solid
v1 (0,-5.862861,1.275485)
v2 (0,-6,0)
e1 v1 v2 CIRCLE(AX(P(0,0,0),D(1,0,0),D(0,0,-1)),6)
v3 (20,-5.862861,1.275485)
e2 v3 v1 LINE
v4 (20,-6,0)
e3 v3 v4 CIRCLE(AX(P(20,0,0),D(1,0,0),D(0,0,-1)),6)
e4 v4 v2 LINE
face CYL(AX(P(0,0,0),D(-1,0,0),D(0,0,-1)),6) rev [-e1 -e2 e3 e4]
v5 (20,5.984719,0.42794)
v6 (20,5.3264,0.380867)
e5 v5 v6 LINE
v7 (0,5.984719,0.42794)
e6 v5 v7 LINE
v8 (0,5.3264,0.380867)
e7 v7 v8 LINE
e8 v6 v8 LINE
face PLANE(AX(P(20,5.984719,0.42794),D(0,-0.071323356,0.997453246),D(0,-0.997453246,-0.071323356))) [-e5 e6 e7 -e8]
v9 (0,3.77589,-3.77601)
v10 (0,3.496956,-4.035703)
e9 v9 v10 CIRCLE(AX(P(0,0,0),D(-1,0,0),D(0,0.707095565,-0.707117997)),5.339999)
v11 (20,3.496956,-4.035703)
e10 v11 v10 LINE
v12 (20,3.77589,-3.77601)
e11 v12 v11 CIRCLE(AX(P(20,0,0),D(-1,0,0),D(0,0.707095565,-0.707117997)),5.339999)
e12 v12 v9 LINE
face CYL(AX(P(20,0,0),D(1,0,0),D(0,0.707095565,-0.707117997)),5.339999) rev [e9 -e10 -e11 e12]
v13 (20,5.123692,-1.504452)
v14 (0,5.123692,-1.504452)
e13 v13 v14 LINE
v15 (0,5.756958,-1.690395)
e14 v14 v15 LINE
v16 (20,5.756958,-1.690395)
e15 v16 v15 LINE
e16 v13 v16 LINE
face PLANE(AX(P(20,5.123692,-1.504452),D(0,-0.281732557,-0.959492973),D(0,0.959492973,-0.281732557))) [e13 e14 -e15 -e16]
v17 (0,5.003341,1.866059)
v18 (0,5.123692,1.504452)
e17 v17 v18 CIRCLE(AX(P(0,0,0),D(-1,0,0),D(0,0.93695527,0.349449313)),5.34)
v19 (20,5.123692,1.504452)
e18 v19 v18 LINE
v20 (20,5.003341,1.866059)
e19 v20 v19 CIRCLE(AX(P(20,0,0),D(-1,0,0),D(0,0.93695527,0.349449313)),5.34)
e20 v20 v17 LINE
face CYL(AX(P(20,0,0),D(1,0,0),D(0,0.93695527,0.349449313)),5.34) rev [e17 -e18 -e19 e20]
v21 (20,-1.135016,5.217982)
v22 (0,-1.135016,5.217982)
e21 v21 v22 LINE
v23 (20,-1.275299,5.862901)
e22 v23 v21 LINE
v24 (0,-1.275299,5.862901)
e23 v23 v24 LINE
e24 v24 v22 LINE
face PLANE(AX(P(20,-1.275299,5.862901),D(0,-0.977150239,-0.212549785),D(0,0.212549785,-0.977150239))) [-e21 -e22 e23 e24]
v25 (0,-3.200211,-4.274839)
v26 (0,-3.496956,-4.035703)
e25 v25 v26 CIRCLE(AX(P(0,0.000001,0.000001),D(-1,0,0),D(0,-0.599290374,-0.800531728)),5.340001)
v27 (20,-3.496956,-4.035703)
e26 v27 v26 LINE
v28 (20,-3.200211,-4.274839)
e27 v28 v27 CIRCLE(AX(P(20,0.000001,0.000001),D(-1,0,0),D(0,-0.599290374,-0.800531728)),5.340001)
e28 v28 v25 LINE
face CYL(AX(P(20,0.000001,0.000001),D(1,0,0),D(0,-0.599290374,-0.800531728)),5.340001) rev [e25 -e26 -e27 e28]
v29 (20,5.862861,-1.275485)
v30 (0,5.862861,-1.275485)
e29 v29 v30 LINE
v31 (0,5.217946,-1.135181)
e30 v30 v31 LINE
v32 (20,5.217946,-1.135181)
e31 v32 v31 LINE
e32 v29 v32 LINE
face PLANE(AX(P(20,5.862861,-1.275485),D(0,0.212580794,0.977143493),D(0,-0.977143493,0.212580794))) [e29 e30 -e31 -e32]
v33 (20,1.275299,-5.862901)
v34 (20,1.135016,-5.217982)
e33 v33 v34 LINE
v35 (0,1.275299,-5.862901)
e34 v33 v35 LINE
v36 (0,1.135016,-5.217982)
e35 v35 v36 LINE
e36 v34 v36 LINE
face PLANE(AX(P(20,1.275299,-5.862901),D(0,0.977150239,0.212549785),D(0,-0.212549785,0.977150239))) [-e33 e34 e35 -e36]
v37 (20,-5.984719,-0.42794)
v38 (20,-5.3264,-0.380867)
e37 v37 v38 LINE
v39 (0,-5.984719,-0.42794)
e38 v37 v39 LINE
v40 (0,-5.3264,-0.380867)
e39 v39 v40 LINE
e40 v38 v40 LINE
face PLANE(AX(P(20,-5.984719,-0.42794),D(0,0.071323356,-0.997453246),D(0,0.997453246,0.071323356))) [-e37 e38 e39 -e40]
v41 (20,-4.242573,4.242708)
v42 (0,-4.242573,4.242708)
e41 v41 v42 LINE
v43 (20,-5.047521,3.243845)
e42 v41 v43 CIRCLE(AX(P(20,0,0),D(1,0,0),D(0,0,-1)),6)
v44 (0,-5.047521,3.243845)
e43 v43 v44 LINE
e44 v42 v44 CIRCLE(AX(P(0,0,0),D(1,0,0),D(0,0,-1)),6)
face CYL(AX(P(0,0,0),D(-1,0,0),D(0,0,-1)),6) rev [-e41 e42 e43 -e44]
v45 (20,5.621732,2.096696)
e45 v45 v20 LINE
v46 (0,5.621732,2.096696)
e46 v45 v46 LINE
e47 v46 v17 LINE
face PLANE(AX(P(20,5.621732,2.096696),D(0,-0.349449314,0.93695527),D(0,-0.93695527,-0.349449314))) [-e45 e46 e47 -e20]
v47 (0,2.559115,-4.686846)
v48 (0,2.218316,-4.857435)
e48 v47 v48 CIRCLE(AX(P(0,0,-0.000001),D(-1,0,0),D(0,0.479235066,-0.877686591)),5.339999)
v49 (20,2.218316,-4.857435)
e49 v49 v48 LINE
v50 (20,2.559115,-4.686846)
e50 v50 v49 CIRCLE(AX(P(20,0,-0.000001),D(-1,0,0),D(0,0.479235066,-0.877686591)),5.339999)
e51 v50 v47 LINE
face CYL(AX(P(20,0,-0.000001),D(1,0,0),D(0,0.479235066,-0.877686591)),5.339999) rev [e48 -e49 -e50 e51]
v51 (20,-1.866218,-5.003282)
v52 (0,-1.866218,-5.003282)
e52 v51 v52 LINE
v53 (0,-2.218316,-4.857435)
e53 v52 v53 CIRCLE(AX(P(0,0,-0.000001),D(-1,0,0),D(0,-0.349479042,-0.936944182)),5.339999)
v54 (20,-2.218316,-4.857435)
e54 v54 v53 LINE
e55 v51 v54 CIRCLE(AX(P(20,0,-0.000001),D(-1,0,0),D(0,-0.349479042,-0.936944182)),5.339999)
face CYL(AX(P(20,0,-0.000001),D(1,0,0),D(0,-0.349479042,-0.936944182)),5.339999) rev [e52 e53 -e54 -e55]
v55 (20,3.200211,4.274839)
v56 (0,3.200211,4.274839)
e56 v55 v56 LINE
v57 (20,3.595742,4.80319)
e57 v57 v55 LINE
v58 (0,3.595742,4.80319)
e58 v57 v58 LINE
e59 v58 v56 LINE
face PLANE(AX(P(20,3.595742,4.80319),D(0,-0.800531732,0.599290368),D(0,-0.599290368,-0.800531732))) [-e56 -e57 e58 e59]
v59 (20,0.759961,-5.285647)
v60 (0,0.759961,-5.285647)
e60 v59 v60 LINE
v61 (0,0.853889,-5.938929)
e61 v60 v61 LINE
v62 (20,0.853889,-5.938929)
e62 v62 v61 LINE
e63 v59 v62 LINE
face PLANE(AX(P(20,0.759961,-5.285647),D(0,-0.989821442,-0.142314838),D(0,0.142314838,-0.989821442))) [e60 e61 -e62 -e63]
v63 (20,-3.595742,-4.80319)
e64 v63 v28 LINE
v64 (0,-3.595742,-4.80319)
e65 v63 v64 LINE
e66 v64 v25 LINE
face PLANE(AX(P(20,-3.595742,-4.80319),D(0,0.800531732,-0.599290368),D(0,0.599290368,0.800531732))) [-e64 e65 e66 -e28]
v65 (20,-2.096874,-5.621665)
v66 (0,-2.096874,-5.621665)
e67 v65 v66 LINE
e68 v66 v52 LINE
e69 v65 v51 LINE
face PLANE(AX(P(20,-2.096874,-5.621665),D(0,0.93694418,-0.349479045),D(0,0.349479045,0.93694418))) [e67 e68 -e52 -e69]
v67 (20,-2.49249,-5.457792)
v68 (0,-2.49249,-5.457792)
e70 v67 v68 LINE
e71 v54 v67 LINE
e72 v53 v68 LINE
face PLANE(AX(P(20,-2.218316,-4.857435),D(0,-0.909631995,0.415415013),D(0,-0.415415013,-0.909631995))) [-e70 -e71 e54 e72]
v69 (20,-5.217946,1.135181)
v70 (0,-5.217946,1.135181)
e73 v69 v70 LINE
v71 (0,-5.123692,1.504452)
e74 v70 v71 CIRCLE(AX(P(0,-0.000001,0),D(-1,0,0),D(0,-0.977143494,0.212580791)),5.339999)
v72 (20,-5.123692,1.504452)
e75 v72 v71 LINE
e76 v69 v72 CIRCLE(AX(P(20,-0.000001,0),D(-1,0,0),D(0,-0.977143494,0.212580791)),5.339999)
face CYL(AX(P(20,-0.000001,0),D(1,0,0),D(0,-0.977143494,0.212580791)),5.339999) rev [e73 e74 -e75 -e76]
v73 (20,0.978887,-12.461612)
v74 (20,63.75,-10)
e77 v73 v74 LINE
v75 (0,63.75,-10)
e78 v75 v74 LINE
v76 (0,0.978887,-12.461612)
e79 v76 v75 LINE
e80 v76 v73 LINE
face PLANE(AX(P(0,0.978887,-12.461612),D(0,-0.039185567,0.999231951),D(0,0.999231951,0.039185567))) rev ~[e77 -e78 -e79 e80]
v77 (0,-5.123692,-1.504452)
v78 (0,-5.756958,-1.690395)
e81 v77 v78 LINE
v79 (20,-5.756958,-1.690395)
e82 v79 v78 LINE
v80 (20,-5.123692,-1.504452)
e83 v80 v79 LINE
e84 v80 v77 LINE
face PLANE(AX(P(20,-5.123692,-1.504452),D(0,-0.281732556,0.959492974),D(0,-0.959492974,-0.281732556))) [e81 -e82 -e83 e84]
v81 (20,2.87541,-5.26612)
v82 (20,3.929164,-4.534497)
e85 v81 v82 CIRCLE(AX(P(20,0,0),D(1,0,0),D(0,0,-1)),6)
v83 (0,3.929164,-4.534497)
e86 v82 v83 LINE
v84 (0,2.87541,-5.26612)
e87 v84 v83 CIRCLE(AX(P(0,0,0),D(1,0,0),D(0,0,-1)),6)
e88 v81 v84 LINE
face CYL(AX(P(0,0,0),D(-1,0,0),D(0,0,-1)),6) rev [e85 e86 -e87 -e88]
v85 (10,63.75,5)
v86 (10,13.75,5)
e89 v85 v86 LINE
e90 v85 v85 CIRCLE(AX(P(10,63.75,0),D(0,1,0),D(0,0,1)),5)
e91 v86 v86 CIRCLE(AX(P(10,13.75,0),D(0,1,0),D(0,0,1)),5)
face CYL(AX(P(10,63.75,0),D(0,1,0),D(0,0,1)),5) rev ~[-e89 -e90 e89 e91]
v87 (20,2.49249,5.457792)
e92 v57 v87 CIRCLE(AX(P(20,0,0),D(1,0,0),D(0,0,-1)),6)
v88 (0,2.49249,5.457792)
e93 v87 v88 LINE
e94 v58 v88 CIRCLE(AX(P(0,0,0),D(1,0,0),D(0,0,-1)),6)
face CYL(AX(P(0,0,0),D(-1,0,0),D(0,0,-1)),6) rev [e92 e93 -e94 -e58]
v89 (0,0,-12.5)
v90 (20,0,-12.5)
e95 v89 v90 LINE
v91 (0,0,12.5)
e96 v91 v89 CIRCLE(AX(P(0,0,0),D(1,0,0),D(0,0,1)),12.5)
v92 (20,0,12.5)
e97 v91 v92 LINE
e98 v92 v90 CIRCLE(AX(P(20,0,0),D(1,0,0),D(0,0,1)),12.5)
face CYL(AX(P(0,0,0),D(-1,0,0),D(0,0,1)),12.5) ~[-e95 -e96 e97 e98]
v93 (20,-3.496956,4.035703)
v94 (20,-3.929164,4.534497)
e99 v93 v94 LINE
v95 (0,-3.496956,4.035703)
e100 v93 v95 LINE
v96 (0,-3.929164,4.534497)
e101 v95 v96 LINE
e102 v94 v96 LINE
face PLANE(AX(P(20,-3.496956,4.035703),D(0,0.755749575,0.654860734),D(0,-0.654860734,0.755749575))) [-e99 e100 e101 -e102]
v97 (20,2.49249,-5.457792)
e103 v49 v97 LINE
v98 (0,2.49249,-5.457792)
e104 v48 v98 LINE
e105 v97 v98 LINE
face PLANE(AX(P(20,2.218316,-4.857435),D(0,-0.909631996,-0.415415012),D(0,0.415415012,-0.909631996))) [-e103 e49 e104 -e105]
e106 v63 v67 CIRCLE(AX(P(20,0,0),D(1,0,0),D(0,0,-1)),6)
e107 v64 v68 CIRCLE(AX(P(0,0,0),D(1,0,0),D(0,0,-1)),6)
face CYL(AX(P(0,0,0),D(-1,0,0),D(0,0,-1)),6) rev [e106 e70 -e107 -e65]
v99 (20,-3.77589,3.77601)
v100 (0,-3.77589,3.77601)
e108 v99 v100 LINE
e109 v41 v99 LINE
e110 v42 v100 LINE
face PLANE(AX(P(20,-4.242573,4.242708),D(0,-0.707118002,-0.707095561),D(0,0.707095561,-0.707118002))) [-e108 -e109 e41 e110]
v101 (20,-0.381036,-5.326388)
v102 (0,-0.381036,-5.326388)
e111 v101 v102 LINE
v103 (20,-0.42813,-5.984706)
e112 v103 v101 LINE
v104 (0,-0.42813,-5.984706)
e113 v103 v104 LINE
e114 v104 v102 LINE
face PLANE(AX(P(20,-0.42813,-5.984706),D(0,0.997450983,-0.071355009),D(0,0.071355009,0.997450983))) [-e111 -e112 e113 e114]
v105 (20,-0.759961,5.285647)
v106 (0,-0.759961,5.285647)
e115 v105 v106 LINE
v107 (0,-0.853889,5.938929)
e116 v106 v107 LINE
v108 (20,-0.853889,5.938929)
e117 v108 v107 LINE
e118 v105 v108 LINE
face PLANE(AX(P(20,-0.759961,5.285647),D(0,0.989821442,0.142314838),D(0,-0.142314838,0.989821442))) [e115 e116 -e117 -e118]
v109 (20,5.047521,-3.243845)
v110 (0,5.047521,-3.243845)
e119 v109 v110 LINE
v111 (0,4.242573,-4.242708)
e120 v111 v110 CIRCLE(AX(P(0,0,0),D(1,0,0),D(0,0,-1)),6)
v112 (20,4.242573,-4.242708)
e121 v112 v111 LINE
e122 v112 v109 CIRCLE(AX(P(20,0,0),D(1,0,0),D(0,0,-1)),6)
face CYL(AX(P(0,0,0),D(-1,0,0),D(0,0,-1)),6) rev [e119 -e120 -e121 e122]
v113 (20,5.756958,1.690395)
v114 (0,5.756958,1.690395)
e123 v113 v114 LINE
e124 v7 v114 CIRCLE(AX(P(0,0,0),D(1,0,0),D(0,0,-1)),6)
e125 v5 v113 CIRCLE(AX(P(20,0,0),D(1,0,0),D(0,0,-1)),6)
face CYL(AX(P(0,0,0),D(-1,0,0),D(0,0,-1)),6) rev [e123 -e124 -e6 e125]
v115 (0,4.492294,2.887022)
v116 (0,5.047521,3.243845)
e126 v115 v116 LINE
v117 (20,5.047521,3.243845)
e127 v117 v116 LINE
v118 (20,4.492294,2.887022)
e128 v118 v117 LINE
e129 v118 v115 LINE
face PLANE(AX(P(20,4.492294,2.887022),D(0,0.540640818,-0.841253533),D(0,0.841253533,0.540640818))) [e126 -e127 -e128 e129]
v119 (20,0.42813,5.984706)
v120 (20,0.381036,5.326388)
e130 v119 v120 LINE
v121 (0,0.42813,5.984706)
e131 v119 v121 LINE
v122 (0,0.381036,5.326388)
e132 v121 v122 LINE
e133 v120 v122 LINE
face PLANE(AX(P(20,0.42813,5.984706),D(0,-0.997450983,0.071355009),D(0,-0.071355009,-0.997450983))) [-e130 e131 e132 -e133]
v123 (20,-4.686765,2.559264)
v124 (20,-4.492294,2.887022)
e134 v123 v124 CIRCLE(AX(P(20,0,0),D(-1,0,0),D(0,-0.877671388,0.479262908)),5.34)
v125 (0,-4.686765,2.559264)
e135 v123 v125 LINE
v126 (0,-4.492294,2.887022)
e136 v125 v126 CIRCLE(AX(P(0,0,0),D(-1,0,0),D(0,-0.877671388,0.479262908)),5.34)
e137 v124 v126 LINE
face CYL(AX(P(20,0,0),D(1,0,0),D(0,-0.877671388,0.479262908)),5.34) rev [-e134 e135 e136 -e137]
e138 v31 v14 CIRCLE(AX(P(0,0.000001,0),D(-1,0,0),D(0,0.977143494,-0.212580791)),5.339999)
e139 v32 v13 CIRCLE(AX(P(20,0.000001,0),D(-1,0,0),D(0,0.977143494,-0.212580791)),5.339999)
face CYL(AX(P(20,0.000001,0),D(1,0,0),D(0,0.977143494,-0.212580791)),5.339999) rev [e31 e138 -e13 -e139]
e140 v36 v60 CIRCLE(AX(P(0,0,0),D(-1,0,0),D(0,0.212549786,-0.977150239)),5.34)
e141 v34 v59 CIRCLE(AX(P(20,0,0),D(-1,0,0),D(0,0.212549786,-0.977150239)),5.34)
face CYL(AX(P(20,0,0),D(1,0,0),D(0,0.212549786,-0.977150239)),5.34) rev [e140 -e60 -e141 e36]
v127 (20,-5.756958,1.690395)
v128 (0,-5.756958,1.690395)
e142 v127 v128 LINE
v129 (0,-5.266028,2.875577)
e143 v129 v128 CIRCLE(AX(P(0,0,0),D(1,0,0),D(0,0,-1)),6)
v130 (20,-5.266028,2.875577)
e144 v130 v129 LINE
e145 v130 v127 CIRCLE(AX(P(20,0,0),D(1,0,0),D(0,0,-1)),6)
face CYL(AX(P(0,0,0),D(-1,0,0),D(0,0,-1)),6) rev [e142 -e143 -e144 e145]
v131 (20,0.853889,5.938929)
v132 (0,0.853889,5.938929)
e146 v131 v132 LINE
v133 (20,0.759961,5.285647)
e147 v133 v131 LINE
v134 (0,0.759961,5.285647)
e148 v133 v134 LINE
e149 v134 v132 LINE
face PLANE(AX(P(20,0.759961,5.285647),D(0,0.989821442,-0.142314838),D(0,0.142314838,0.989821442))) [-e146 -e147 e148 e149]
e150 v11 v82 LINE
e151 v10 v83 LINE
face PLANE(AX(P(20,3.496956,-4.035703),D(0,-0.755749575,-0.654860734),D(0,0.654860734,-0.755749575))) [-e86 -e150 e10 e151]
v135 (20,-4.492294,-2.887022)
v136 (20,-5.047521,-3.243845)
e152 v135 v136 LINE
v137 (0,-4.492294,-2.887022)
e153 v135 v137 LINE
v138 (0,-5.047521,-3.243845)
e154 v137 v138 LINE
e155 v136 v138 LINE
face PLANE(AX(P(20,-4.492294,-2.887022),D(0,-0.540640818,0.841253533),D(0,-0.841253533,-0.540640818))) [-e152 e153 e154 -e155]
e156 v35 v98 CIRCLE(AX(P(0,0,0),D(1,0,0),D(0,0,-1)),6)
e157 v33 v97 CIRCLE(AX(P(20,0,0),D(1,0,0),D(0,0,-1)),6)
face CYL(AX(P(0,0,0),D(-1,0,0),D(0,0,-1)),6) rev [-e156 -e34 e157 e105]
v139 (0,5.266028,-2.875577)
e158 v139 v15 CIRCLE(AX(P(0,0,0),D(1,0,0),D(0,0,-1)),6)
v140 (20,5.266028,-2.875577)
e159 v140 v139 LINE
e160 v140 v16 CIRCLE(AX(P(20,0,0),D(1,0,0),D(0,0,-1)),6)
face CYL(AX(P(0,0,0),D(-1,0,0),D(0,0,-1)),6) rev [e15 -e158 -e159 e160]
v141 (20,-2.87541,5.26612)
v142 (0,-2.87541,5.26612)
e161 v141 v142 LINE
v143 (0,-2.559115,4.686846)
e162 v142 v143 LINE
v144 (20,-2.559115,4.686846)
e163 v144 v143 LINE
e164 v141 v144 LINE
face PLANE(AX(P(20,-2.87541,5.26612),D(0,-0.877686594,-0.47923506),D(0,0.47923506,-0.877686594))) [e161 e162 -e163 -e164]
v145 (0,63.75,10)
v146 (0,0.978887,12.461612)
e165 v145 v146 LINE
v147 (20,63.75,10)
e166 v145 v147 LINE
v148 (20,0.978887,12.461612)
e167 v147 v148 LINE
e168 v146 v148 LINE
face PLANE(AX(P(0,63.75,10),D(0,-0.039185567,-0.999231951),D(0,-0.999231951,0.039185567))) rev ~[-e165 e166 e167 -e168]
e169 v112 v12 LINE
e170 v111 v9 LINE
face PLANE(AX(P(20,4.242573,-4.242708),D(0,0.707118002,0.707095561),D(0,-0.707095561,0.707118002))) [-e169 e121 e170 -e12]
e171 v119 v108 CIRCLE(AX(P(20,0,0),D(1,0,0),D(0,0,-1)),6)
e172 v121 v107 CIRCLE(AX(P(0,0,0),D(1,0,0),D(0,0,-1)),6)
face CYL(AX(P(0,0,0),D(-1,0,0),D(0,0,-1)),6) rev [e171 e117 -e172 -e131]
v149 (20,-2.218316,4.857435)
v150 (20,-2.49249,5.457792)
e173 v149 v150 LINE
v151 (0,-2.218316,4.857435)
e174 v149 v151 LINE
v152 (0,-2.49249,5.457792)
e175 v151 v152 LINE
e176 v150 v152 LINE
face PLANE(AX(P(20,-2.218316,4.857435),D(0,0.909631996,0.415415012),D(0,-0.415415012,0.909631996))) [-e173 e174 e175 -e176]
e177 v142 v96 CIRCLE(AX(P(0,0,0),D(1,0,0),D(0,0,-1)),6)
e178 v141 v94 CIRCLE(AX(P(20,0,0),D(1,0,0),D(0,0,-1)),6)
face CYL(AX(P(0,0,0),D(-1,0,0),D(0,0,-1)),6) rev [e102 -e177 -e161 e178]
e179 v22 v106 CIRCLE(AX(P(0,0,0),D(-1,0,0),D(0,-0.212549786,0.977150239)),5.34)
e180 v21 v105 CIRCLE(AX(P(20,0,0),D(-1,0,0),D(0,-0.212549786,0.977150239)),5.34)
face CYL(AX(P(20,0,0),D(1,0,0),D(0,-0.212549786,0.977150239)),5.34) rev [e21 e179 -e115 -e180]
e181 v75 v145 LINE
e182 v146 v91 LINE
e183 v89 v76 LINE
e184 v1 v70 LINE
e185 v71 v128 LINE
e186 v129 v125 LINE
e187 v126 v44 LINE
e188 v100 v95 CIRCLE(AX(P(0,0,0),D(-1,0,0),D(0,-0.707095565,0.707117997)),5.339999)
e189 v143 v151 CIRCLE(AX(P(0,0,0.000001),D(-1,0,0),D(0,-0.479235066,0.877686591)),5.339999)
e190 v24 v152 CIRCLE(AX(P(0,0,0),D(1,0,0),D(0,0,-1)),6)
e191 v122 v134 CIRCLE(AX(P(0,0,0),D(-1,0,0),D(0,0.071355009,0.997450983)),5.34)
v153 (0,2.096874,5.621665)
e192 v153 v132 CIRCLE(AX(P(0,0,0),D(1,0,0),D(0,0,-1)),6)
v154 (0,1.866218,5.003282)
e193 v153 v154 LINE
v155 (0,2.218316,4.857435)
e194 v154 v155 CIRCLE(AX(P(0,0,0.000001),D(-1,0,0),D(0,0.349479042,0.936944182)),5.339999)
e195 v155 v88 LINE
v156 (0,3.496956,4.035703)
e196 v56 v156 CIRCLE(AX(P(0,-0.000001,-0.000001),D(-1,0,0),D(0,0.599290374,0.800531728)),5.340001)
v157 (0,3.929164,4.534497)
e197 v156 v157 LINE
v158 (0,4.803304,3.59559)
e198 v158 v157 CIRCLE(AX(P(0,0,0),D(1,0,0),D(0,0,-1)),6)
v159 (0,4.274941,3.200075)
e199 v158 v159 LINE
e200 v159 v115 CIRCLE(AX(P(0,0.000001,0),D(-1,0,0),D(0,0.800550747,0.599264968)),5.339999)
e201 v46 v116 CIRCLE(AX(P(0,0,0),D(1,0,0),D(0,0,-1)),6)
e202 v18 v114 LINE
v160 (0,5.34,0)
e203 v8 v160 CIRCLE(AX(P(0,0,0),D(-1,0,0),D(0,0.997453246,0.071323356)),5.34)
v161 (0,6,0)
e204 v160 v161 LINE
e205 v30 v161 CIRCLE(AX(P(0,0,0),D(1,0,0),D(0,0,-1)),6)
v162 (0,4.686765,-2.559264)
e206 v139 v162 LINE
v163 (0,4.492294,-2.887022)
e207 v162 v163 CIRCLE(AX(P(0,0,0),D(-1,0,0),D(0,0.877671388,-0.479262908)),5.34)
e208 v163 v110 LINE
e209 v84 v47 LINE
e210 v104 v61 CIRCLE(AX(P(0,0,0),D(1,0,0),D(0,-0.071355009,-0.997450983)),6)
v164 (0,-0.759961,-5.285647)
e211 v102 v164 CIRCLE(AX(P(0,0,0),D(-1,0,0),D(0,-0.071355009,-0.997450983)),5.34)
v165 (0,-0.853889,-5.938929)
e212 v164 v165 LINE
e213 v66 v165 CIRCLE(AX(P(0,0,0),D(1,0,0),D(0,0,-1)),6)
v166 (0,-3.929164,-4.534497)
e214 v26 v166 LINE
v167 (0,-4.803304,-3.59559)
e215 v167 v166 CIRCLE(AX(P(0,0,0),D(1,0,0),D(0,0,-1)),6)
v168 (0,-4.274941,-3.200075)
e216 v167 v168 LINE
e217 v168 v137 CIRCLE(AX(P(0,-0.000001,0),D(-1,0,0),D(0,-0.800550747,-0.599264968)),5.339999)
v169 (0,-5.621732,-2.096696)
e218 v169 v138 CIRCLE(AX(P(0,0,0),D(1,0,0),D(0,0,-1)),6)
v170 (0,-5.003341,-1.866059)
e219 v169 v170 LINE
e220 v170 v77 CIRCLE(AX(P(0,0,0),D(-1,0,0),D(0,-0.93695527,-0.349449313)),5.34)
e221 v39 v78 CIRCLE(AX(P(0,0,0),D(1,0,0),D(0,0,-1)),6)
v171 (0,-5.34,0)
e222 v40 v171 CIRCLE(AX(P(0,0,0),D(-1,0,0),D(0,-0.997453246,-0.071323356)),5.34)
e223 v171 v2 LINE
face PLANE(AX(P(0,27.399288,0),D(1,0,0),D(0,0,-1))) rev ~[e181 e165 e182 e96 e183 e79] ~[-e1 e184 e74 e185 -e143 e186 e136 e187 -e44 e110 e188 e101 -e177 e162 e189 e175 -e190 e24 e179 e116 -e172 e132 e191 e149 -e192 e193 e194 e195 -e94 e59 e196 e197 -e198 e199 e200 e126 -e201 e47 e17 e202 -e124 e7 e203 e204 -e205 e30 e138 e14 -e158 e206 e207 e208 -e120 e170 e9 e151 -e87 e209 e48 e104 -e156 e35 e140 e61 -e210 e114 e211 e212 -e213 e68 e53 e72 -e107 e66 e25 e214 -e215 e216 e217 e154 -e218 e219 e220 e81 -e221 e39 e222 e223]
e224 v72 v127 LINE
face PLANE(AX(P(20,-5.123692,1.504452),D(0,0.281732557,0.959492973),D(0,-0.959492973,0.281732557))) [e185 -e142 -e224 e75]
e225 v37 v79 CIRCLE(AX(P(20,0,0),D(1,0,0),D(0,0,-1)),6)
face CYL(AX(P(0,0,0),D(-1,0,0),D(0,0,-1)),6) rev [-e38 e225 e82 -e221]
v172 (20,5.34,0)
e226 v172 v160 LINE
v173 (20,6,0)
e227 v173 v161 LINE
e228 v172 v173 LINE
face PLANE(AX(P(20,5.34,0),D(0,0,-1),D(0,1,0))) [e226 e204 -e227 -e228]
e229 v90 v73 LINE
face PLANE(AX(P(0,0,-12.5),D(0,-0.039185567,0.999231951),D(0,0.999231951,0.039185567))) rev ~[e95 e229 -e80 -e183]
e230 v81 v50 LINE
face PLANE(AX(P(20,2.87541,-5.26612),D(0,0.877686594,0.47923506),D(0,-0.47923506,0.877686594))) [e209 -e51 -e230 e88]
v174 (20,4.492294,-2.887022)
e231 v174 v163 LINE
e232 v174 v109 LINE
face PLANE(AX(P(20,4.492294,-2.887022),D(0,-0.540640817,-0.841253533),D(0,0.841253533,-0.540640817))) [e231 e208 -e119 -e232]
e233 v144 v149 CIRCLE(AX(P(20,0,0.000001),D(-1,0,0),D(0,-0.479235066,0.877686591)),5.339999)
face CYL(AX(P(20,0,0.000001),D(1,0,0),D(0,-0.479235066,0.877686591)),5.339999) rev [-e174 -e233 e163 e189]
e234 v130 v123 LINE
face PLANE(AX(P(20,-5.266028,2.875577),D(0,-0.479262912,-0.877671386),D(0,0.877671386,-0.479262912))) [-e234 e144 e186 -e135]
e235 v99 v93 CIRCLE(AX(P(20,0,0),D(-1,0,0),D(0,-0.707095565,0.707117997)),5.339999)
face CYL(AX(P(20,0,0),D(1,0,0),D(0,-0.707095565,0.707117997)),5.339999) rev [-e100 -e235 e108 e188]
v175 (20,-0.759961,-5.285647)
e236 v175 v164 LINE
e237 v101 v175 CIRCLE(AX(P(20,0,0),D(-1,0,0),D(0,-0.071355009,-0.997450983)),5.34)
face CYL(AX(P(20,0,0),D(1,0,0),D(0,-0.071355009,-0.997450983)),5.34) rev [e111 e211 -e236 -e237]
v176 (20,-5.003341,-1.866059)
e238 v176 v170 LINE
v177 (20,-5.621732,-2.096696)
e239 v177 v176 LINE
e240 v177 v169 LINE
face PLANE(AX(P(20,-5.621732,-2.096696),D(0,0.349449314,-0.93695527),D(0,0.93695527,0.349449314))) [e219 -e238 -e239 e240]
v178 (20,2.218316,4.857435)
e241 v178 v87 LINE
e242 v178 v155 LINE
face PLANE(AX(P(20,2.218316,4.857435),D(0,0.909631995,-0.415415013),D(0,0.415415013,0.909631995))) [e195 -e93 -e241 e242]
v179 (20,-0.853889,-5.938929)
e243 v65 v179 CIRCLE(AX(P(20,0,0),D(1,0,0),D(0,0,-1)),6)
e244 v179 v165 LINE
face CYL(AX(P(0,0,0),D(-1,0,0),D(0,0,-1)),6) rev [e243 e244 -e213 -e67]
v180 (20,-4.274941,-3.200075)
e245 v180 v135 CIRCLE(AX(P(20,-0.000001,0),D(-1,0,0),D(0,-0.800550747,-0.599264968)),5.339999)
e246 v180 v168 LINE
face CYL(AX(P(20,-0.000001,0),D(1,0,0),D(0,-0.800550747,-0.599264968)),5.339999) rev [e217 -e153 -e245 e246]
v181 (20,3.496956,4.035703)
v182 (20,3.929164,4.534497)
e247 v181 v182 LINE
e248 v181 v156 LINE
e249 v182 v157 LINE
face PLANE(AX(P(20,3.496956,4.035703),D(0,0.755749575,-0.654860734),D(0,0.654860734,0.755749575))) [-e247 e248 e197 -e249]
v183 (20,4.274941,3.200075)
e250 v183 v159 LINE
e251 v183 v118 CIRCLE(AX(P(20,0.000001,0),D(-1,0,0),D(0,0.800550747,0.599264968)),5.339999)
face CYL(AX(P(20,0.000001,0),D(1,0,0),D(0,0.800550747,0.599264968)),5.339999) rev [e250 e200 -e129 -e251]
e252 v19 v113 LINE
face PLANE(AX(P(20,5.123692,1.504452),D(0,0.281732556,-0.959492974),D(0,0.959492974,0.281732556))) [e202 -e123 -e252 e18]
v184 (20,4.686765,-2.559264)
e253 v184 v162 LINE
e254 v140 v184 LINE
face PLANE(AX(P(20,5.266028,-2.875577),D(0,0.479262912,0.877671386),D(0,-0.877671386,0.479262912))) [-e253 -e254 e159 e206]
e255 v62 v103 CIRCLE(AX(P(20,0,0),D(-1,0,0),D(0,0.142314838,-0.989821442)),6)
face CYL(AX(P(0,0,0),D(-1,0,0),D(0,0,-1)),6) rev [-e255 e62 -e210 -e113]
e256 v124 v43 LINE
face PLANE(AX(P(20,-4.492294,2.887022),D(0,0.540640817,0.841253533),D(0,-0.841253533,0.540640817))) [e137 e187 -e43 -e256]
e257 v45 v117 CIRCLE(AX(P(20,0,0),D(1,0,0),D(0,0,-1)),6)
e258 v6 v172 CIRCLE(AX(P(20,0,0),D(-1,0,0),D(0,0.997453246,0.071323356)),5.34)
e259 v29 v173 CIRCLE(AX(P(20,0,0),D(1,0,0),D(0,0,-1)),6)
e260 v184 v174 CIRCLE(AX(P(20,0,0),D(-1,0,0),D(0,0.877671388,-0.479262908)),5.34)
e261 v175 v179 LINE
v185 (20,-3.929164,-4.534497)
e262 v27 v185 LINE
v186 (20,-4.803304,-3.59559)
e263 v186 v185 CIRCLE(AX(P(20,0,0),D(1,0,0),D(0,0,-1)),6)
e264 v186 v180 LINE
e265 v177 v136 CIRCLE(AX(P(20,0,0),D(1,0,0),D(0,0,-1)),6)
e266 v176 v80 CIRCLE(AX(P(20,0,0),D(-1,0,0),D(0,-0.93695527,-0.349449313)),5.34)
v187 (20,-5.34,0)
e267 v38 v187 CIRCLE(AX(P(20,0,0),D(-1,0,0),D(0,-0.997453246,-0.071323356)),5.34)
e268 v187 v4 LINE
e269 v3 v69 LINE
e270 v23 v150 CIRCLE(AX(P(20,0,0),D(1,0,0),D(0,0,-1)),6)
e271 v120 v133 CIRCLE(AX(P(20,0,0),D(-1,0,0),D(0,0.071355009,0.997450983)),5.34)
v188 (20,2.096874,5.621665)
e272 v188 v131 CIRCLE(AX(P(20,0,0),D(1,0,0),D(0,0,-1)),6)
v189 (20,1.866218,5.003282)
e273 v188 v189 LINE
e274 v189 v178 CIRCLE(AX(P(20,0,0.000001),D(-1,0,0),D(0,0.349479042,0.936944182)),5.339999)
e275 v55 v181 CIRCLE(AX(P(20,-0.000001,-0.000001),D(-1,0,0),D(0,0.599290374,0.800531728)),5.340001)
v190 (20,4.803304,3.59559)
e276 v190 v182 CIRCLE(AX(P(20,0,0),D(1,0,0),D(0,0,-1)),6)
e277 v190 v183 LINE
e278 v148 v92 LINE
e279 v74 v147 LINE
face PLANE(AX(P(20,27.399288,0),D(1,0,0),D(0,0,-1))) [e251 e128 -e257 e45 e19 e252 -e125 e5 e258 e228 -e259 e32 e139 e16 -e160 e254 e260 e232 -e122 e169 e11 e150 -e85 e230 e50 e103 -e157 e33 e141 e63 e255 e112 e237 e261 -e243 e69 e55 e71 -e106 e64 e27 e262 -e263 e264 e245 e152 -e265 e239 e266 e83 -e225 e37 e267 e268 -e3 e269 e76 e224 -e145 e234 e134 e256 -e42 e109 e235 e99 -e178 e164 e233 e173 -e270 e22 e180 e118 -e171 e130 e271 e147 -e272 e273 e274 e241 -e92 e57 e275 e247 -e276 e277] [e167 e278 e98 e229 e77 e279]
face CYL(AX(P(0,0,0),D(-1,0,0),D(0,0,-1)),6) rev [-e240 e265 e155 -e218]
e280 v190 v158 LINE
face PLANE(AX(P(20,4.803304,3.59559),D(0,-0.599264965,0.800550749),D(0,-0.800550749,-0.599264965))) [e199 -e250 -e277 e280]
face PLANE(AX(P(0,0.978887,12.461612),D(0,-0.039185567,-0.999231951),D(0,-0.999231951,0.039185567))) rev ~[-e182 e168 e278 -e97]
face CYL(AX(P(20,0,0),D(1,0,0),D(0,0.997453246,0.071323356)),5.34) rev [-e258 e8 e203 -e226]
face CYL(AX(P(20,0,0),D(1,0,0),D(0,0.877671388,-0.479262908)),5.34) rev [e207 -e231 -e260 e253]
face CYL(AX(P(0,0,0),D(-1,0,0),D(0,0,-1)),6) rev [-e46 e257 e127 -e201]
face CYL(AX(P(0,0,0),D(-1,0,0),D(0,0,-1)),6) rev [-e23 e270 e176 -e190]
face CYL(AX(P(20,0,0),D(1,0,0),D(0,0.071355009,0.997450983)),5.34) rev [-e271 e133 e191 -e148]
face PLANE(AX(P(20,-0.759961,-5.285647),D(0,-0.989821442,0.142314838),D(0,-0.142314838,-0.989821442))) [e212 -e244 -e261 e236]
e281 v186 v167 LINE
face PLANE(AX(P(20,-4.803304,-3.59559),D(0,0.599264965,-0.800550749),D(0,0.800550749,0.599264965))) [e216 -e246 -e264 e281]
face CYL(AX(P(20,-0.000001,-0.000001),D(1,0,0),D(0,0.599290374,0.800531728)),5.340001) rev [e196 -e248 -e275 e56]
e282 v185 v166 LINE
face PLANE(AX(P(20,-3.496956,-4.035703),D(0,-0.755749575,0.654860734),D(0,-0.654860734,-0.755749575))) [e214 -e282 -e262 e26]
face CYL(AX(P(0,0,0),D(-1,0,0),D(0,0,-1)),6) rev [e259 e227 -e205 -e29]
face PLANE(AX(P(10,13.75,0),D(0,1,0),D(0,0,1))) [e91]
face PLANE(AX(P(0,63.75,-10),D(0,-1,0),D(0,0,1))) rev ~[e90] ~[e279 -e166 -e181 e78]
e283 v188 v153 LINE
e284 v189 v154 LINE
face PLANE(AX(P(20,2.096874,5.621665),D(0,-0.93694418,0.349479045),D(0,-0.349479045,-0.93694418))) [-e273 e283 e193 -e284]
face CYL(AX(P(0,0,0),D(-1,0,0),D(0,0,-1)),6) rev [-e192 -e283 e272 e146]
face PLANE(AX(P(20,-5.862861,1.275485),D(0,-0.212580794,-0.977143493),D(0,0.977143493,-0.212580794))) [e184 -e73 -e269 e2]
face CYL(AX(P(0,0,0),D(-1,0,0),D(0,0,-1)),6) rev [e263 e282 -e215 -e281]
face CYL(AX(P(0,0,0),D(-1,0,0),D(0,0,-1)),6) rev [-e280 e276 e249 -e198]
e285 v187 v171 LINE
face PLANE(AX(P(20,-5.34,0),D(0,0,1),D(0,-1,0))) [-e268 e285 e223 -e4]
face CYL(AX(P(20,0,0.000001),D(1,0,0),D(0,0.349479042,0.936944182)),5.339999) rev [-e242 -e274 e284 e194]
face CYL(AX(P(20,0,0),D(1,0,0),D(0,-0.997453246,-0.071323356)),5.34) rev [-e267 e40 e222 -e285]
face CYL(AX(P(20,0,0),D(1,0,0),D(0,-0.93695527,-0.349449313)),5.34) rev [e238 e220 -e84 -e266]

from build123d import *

# Parameters (mm, degrees)
SKETCH1_R           = 6
BOSS_EXTRUDE1_DEPTH = 20
SKETCH2_R           = 5
CUT_EXTRUDE1_DEPTH  = 50
BOSS_EXTRUDE2_DEPTH = 20


with BuildPart() as part:
    # Sketch1 → Boss-Extrude1 (new body)
    with BuildSketch(Plane(origin=(0, 0, 0), x_dir=(0, 0, -1), z_dir=(1, 0, 0))):
        with BuildLine():
            Line((10, 63.75), (0, 63.75))
            Line((0, 63.75), (-10, 63.75))
            Line((-10, 63.75), (-12.461612284, 0.978886756))
            Line((-12.461612284, 0.978886756), (-12.5, 0))
            ThreePointArc((-12.5, 0), (0, -12.5), (12.5, 0))
            Line((12.5, 0), (12.461612284, 0.978886756))
            Line((12.461612284, 0.978886756), (10, 63.75))
        make_face()
        Circle(SKETCH1_R, mode=Mode.SUBTRACT)
    extrude(amount=BOSS_EXTRUDE1_DEPTH)

    # Sketch2 → Cut-Extrude1 (cut)
    with BuildSketch(Plane(origin=(0, 63.75, 0), x_dir=(1, 0, 0), z_dir=(0, 1, 0))):
        with Locations(Location((10, 0, 0), (0, 0, 270))):
            Circle(SKETCH2_R)
    extrude(amount=-CUT_EXTRUDE1_DEPTH, mode=Mode.SUBTRACT)

    # Sketch3 → Boss-Extrude2 (add)
    with BuildSketch(Plane(origin=(20, 0, 0), x_dir=(0, 0, -1), z_dir=(1, 0, 0))):
        with BuildLine():
            ThreePointArc((0, 6), (-0.214106434, 5.996178653), (-0.427940142, 5.984719478))
            Line((-0.427940142, 5.984719478), (-0.380866727, 5.326400336))
            ThreePointArc((-0.380866727, 5.326400336), (-0.190554726, 5.336599001), (0, 5.34))
            Line((0, 5.34), (0, 6))
        make_face()
        with BuildLine():
            Line((-1.504451854, 5.123692479), (-1.690395341, 5.756957842))
            ThreePointArc((-1.690395341, 5.756957842), (-1.894752362, 5.692970533), (-2.09669588, 5.621731618))
            Line((-2.09669588, 5.621731618), (-1.866059333, 5.00334114))
            ThreePointArc((-1.866059333, 5.00334114), (-1.686329602, 5.066743774), (-1.504451854, 5.123692479))
        make_face()
        with BuildLine():
            ThreePointArc((1.690395341, 5.756957842), (1.483885124, 5.813612039), (1.275484761, 5.862860959))
            Line((1.275484761, 5.862860959), (1.135181437, 5.217946254))
            ThreePointArc((1.135181437, 5.217946254), (1.320657761, 5.174114715), (1.504451853, 5.123692479))
            Line((1.504451853, 5.123692479), (1.690395341, 5.756957842))
        make_face()
        with BuildLine():
            Line((-2.887021965, 4.492293865), (-3.243844905, 5.047521197))
            ThreePointArc((-3.243844905, 5.047521197), (-3.421896722, 4.928551798), (-3.595589788, 4.803304496))
            Line((-3.595589788, 4.803304496), (-3.200074911, 4.274941001))
            ThreePointArc((-3.200074911, 4.274941001), (-3.045488083, 4.3864111), (-2.887021965, 4.492293865))
        make_face()
        with BuildLine():
            ThreePointArc((3.243844904, 5.047521197), (3.061661135, 5.160061152), (2.875577474, 5.266028313))
            Line((2.875577474, 5.266028313), (2.559263952, 4.686765198))
            ThreePointArc((2.559263952, 4.686765198), (2.72487841, 4.592454426), (2.887021965, 4.492293866))
            Line((2.887021965, 4.492293866), (3.243844904, 5.047521197))
        make_face()
        with BuildLine():
            Line((-4.035702727, 3.496956319), (-4.534497446, 3.929164403))
            ThreePointArc((-4.534497446, 3.929164403), (-4.671819361, 3.764851107), (-4.803190394, 3.59574221))
            Line((-4.803190394, 3.59574221), (-4.274839451, 3.200210567))
            ThreePointArc((-4.274839451, 3.200210567), (-4.157919231, 3.350717485), (-4.035702727, 3.496956319))
        make_face()
        with BuildLine():
            ThreePointArc((4.534497446, 3.929164404), (4.391399568, 4.0884728), (4.242708003, 4.24257337))
            Line((4.242708003, 4.24257337), (3.776010122, 3.7758903))
            ThreePointArc((3.776010122, 3.7758903), (3.908345616, 3.638740792), (4.035702727, 3.49695632))
            Line((4.035702727, 3.49695632), (4.534497446, 3.929164404))
        make_face()
        with BuildLine():
            Line((-4.857434855, 2.218316169), (-5.457791972, 2.492490078))
            ThreePointArc((-5.457791972, 2.492490078), (-5.543258979, 2.29614457), (-5.621665081, 2.096874274))
            Line((-5.621665081, 2.096874274), (-5.003281922, 1.866218104))
            ThreePointArc((-5.003281922, 1.866218104), (-4.933500492, 2.043568668), (-4.857434855, 2.218316169))
        make_face()
        with BuildLine():
            ThreePointArc((5.457791972, 2.492490078), (5.365372925, 2.685660696), (5.266119561, 2.875410365))
            Line((5.266119561, 2.875410365), (4.686846409, 2.559115225))
            ThreePointArc((4.686846409, 2.559115225), (4.775181904, 2.390238019), (4.857434855, 2.21831617))
            Line((4.857434855, 2.21831617), (5.457791972, 2.492490078))
        make_face()
        with BuildLine():
            Line((-5.2856465, 0.759961236), (-5.938928651, 0.853889029))
            ThreePointArc((-5.938928651, 0.853889029), (-5.965616722, 0.641418056), (-5.984705895, 0.428130056))
            Line((-5.984705895, 0.428130056), (-5.326388247, 0.38103575))
            ThreePointArc((-5.326388247, 0.38103575), (-5.309398883, 0.57086207), (-5.2856465, 0.759961236))
        make_face()
        with BuildLine():
            ThreePointArc((5.938928651, 0.85388903), (5.904675677, 1.065272334), (5.862901431, 1.275298713))
            Line((5.862901431, 1.275298713), (5.217982274, 1.135015855))
            ThreePointArc((5.217982274, 1.135015855), (5.255161353, 0.948092378), (5.2856465, 0.759961237))
            Line((5.2856465, 0.759961237), (5.938928651, 0.85388903))
        make_face()
        with BuildLine():
            Line((-5.2856465, -0.759961237), (-5.938928651, -0.85388903))
            ThreePointArc((-5.938928651, -0.85388903), (-5.904675677, -1.065272334), (-5.862901431, -1.275298713))
            Line((-5.862901431, -1.275298713), (-5.217982274, -1.135015855))
            ThreePointArc((-5.217982274, -1.135015855), (-5.255161353, -0.948092378), (-5.2856465, -0.759961237))
        make_face()
        with BuildLine():
            ThreePointArc((5.938928651, -0.853889029), (5.965616722, -0.641418056), (5.984705895, -0.428130056))
            Line((5.984705895, -0.428130056), (5.326388247, -0.38103575))
            ThreePointArc((5.326388247, -0.38103575), (5.309398883, -0.57086207), (5.2856465, -0.759961236))
            Line((5.2856465, -0.759961236), (5.938928651, -0.853889029))
        make_face()
        with BuildLine():
            Line((-4.857434855, -2.21831617), (-5.457791972, -2.492490078))
            ThreePointArc((-5.457791972, -2.492490078), (-5.365372925, -2.685660696), (-5.266119561, -2.875410365))
            Line((-5.266119561, -2.875410365), (-4.686846409, -2.559115225))
            ThreePointArc((-4.686846409, -2.559115225), (-4.775181904, -2.390238019), (-4.857434855, -2.21831617))
        make_face()
        with BuildLine():
            ThreePointArc((5.457791972, -2.492490078), (5.543258979, -2.29614457), (5.621665081, -2.096874274))
            Line((5.621665081, -2.096874274), (5.003281922, -1.866218104))
            ThreePointArc((5.003281922, -1.866218104), (4.933500492, -2.043568668), (4.857434855, -2.218316169))
            Line((4.857434855, -2.218316169), (5.457791972, -2.492490078))
        make_face()
        with BuildLine():
            Line((-4.035702727, -3.49695632), (-4.534497446, -3.929164404))
            ThreePointArc((-4.534497446, -3.929164404), (-4.391399568, -4.0884728), (-4.242708003, -4.24257337))
            Line((-4.242708003, -4.24257337), (-3.776010122, -3.7758903))
            ThreePointArc((-3.776010122, -3.7758903), (-3.908345616, -3.638740792), (-4.035702727, -3.49695632))
        make_face()
        with BuildLine():
            ThreePointArc((4.534497446, -3.929164403), (4.671819361, -3.764851107), (4.803190394, -3.59574221))
            Line((4.803190394, -3.59574221), (4.274839451, -3.200210567))
            ThreePointArc((4.274839451, -3.200210567), (4.157919231, -3.350717485), (4.035702727, -3.496956319))
            Line((4.035702727, -3.496956319), (4.534497446, -3.929164403))
        make_face()
        with BuildLine():
            Line((-2.887021965, -4.492293866), (-3.243844904, -5.047521197))
            ThreePointArc((-3.243844904, -5.047521197), (-3.061661135, -5.160061152), (-2.875577474, -5.266028313))
            Line((-2.875577474, -5.266028313), (-2.559263952, -4.686765198))
            ThreePointArc((-2.559263952, -4.686765198), (-2.72487841, -4.592454426), (-2.887021965, -4.492293866))
        make_face()
        with BuildLine():
            ThreePointArc((3.243844905, -5.047521197), (3.421896722, -4.928551798), (3.595589788, -4.803304496))
            Line((3.595589788, -4.803304496), (3.200074911, -4.274941001))
            ThreePointArc((3.200074911, -4.274941001), (3.045488083, -4.3864111), (2.887021965, -4.492293865))
            Line((2.887021965, -4.492293865), (3.243844905, -5.047521197))
        make_face()
        with BuildLine():
            Line((-1.504451853, -5.123692479), (-1.690395341, -5.756957842))
            ThreePointArc((-1.690395341, -5.756957842), (-1.483885124, -5.813612039), (-1.275484761, -5.862860959))
            Line((-1.275484761, -5.862860959), (-1.135181437, -5.217946254))
            ThreePointArc((-1.135181437, -5.217946254), (-1.320657761, -5.174114715), (-1.504451853, -5.123692479))
        make_face()
        with BuildLine():
            ThreePointArc((1.690395341, -5.756957842), (1.894752362, -5.692970533), (2.09669588, -5.621731618))
            Line((2.09669588, -5.621731618), (1.866059333, -5.00334114))
            ThreePointArc((1.866059333, -5.00334114), (1.686329602, -5.066743774), (1.504451854, -5.123692479))
            Line((1.504451854, -5.123692479), (1.690395341, -5.756957842))
        make_face()
        with BuildLine():
            Line((0, -5.34), (0, -6))
            ThreePointArc((0, -6), (0.214106434, -5.996178653), (0.427940142, -5.984719478))
            Line((0.427940142, -5.984719478), (0.380866727, -5.326400336))
            ThreePointArc((0.380866727, -5.326400336), (0.190554726, -5.336599001), (0, -5.34))
        make_face()
    extrude(amount=-BOSS_EXTRUDE2_DEPTH)


solid = part.part
